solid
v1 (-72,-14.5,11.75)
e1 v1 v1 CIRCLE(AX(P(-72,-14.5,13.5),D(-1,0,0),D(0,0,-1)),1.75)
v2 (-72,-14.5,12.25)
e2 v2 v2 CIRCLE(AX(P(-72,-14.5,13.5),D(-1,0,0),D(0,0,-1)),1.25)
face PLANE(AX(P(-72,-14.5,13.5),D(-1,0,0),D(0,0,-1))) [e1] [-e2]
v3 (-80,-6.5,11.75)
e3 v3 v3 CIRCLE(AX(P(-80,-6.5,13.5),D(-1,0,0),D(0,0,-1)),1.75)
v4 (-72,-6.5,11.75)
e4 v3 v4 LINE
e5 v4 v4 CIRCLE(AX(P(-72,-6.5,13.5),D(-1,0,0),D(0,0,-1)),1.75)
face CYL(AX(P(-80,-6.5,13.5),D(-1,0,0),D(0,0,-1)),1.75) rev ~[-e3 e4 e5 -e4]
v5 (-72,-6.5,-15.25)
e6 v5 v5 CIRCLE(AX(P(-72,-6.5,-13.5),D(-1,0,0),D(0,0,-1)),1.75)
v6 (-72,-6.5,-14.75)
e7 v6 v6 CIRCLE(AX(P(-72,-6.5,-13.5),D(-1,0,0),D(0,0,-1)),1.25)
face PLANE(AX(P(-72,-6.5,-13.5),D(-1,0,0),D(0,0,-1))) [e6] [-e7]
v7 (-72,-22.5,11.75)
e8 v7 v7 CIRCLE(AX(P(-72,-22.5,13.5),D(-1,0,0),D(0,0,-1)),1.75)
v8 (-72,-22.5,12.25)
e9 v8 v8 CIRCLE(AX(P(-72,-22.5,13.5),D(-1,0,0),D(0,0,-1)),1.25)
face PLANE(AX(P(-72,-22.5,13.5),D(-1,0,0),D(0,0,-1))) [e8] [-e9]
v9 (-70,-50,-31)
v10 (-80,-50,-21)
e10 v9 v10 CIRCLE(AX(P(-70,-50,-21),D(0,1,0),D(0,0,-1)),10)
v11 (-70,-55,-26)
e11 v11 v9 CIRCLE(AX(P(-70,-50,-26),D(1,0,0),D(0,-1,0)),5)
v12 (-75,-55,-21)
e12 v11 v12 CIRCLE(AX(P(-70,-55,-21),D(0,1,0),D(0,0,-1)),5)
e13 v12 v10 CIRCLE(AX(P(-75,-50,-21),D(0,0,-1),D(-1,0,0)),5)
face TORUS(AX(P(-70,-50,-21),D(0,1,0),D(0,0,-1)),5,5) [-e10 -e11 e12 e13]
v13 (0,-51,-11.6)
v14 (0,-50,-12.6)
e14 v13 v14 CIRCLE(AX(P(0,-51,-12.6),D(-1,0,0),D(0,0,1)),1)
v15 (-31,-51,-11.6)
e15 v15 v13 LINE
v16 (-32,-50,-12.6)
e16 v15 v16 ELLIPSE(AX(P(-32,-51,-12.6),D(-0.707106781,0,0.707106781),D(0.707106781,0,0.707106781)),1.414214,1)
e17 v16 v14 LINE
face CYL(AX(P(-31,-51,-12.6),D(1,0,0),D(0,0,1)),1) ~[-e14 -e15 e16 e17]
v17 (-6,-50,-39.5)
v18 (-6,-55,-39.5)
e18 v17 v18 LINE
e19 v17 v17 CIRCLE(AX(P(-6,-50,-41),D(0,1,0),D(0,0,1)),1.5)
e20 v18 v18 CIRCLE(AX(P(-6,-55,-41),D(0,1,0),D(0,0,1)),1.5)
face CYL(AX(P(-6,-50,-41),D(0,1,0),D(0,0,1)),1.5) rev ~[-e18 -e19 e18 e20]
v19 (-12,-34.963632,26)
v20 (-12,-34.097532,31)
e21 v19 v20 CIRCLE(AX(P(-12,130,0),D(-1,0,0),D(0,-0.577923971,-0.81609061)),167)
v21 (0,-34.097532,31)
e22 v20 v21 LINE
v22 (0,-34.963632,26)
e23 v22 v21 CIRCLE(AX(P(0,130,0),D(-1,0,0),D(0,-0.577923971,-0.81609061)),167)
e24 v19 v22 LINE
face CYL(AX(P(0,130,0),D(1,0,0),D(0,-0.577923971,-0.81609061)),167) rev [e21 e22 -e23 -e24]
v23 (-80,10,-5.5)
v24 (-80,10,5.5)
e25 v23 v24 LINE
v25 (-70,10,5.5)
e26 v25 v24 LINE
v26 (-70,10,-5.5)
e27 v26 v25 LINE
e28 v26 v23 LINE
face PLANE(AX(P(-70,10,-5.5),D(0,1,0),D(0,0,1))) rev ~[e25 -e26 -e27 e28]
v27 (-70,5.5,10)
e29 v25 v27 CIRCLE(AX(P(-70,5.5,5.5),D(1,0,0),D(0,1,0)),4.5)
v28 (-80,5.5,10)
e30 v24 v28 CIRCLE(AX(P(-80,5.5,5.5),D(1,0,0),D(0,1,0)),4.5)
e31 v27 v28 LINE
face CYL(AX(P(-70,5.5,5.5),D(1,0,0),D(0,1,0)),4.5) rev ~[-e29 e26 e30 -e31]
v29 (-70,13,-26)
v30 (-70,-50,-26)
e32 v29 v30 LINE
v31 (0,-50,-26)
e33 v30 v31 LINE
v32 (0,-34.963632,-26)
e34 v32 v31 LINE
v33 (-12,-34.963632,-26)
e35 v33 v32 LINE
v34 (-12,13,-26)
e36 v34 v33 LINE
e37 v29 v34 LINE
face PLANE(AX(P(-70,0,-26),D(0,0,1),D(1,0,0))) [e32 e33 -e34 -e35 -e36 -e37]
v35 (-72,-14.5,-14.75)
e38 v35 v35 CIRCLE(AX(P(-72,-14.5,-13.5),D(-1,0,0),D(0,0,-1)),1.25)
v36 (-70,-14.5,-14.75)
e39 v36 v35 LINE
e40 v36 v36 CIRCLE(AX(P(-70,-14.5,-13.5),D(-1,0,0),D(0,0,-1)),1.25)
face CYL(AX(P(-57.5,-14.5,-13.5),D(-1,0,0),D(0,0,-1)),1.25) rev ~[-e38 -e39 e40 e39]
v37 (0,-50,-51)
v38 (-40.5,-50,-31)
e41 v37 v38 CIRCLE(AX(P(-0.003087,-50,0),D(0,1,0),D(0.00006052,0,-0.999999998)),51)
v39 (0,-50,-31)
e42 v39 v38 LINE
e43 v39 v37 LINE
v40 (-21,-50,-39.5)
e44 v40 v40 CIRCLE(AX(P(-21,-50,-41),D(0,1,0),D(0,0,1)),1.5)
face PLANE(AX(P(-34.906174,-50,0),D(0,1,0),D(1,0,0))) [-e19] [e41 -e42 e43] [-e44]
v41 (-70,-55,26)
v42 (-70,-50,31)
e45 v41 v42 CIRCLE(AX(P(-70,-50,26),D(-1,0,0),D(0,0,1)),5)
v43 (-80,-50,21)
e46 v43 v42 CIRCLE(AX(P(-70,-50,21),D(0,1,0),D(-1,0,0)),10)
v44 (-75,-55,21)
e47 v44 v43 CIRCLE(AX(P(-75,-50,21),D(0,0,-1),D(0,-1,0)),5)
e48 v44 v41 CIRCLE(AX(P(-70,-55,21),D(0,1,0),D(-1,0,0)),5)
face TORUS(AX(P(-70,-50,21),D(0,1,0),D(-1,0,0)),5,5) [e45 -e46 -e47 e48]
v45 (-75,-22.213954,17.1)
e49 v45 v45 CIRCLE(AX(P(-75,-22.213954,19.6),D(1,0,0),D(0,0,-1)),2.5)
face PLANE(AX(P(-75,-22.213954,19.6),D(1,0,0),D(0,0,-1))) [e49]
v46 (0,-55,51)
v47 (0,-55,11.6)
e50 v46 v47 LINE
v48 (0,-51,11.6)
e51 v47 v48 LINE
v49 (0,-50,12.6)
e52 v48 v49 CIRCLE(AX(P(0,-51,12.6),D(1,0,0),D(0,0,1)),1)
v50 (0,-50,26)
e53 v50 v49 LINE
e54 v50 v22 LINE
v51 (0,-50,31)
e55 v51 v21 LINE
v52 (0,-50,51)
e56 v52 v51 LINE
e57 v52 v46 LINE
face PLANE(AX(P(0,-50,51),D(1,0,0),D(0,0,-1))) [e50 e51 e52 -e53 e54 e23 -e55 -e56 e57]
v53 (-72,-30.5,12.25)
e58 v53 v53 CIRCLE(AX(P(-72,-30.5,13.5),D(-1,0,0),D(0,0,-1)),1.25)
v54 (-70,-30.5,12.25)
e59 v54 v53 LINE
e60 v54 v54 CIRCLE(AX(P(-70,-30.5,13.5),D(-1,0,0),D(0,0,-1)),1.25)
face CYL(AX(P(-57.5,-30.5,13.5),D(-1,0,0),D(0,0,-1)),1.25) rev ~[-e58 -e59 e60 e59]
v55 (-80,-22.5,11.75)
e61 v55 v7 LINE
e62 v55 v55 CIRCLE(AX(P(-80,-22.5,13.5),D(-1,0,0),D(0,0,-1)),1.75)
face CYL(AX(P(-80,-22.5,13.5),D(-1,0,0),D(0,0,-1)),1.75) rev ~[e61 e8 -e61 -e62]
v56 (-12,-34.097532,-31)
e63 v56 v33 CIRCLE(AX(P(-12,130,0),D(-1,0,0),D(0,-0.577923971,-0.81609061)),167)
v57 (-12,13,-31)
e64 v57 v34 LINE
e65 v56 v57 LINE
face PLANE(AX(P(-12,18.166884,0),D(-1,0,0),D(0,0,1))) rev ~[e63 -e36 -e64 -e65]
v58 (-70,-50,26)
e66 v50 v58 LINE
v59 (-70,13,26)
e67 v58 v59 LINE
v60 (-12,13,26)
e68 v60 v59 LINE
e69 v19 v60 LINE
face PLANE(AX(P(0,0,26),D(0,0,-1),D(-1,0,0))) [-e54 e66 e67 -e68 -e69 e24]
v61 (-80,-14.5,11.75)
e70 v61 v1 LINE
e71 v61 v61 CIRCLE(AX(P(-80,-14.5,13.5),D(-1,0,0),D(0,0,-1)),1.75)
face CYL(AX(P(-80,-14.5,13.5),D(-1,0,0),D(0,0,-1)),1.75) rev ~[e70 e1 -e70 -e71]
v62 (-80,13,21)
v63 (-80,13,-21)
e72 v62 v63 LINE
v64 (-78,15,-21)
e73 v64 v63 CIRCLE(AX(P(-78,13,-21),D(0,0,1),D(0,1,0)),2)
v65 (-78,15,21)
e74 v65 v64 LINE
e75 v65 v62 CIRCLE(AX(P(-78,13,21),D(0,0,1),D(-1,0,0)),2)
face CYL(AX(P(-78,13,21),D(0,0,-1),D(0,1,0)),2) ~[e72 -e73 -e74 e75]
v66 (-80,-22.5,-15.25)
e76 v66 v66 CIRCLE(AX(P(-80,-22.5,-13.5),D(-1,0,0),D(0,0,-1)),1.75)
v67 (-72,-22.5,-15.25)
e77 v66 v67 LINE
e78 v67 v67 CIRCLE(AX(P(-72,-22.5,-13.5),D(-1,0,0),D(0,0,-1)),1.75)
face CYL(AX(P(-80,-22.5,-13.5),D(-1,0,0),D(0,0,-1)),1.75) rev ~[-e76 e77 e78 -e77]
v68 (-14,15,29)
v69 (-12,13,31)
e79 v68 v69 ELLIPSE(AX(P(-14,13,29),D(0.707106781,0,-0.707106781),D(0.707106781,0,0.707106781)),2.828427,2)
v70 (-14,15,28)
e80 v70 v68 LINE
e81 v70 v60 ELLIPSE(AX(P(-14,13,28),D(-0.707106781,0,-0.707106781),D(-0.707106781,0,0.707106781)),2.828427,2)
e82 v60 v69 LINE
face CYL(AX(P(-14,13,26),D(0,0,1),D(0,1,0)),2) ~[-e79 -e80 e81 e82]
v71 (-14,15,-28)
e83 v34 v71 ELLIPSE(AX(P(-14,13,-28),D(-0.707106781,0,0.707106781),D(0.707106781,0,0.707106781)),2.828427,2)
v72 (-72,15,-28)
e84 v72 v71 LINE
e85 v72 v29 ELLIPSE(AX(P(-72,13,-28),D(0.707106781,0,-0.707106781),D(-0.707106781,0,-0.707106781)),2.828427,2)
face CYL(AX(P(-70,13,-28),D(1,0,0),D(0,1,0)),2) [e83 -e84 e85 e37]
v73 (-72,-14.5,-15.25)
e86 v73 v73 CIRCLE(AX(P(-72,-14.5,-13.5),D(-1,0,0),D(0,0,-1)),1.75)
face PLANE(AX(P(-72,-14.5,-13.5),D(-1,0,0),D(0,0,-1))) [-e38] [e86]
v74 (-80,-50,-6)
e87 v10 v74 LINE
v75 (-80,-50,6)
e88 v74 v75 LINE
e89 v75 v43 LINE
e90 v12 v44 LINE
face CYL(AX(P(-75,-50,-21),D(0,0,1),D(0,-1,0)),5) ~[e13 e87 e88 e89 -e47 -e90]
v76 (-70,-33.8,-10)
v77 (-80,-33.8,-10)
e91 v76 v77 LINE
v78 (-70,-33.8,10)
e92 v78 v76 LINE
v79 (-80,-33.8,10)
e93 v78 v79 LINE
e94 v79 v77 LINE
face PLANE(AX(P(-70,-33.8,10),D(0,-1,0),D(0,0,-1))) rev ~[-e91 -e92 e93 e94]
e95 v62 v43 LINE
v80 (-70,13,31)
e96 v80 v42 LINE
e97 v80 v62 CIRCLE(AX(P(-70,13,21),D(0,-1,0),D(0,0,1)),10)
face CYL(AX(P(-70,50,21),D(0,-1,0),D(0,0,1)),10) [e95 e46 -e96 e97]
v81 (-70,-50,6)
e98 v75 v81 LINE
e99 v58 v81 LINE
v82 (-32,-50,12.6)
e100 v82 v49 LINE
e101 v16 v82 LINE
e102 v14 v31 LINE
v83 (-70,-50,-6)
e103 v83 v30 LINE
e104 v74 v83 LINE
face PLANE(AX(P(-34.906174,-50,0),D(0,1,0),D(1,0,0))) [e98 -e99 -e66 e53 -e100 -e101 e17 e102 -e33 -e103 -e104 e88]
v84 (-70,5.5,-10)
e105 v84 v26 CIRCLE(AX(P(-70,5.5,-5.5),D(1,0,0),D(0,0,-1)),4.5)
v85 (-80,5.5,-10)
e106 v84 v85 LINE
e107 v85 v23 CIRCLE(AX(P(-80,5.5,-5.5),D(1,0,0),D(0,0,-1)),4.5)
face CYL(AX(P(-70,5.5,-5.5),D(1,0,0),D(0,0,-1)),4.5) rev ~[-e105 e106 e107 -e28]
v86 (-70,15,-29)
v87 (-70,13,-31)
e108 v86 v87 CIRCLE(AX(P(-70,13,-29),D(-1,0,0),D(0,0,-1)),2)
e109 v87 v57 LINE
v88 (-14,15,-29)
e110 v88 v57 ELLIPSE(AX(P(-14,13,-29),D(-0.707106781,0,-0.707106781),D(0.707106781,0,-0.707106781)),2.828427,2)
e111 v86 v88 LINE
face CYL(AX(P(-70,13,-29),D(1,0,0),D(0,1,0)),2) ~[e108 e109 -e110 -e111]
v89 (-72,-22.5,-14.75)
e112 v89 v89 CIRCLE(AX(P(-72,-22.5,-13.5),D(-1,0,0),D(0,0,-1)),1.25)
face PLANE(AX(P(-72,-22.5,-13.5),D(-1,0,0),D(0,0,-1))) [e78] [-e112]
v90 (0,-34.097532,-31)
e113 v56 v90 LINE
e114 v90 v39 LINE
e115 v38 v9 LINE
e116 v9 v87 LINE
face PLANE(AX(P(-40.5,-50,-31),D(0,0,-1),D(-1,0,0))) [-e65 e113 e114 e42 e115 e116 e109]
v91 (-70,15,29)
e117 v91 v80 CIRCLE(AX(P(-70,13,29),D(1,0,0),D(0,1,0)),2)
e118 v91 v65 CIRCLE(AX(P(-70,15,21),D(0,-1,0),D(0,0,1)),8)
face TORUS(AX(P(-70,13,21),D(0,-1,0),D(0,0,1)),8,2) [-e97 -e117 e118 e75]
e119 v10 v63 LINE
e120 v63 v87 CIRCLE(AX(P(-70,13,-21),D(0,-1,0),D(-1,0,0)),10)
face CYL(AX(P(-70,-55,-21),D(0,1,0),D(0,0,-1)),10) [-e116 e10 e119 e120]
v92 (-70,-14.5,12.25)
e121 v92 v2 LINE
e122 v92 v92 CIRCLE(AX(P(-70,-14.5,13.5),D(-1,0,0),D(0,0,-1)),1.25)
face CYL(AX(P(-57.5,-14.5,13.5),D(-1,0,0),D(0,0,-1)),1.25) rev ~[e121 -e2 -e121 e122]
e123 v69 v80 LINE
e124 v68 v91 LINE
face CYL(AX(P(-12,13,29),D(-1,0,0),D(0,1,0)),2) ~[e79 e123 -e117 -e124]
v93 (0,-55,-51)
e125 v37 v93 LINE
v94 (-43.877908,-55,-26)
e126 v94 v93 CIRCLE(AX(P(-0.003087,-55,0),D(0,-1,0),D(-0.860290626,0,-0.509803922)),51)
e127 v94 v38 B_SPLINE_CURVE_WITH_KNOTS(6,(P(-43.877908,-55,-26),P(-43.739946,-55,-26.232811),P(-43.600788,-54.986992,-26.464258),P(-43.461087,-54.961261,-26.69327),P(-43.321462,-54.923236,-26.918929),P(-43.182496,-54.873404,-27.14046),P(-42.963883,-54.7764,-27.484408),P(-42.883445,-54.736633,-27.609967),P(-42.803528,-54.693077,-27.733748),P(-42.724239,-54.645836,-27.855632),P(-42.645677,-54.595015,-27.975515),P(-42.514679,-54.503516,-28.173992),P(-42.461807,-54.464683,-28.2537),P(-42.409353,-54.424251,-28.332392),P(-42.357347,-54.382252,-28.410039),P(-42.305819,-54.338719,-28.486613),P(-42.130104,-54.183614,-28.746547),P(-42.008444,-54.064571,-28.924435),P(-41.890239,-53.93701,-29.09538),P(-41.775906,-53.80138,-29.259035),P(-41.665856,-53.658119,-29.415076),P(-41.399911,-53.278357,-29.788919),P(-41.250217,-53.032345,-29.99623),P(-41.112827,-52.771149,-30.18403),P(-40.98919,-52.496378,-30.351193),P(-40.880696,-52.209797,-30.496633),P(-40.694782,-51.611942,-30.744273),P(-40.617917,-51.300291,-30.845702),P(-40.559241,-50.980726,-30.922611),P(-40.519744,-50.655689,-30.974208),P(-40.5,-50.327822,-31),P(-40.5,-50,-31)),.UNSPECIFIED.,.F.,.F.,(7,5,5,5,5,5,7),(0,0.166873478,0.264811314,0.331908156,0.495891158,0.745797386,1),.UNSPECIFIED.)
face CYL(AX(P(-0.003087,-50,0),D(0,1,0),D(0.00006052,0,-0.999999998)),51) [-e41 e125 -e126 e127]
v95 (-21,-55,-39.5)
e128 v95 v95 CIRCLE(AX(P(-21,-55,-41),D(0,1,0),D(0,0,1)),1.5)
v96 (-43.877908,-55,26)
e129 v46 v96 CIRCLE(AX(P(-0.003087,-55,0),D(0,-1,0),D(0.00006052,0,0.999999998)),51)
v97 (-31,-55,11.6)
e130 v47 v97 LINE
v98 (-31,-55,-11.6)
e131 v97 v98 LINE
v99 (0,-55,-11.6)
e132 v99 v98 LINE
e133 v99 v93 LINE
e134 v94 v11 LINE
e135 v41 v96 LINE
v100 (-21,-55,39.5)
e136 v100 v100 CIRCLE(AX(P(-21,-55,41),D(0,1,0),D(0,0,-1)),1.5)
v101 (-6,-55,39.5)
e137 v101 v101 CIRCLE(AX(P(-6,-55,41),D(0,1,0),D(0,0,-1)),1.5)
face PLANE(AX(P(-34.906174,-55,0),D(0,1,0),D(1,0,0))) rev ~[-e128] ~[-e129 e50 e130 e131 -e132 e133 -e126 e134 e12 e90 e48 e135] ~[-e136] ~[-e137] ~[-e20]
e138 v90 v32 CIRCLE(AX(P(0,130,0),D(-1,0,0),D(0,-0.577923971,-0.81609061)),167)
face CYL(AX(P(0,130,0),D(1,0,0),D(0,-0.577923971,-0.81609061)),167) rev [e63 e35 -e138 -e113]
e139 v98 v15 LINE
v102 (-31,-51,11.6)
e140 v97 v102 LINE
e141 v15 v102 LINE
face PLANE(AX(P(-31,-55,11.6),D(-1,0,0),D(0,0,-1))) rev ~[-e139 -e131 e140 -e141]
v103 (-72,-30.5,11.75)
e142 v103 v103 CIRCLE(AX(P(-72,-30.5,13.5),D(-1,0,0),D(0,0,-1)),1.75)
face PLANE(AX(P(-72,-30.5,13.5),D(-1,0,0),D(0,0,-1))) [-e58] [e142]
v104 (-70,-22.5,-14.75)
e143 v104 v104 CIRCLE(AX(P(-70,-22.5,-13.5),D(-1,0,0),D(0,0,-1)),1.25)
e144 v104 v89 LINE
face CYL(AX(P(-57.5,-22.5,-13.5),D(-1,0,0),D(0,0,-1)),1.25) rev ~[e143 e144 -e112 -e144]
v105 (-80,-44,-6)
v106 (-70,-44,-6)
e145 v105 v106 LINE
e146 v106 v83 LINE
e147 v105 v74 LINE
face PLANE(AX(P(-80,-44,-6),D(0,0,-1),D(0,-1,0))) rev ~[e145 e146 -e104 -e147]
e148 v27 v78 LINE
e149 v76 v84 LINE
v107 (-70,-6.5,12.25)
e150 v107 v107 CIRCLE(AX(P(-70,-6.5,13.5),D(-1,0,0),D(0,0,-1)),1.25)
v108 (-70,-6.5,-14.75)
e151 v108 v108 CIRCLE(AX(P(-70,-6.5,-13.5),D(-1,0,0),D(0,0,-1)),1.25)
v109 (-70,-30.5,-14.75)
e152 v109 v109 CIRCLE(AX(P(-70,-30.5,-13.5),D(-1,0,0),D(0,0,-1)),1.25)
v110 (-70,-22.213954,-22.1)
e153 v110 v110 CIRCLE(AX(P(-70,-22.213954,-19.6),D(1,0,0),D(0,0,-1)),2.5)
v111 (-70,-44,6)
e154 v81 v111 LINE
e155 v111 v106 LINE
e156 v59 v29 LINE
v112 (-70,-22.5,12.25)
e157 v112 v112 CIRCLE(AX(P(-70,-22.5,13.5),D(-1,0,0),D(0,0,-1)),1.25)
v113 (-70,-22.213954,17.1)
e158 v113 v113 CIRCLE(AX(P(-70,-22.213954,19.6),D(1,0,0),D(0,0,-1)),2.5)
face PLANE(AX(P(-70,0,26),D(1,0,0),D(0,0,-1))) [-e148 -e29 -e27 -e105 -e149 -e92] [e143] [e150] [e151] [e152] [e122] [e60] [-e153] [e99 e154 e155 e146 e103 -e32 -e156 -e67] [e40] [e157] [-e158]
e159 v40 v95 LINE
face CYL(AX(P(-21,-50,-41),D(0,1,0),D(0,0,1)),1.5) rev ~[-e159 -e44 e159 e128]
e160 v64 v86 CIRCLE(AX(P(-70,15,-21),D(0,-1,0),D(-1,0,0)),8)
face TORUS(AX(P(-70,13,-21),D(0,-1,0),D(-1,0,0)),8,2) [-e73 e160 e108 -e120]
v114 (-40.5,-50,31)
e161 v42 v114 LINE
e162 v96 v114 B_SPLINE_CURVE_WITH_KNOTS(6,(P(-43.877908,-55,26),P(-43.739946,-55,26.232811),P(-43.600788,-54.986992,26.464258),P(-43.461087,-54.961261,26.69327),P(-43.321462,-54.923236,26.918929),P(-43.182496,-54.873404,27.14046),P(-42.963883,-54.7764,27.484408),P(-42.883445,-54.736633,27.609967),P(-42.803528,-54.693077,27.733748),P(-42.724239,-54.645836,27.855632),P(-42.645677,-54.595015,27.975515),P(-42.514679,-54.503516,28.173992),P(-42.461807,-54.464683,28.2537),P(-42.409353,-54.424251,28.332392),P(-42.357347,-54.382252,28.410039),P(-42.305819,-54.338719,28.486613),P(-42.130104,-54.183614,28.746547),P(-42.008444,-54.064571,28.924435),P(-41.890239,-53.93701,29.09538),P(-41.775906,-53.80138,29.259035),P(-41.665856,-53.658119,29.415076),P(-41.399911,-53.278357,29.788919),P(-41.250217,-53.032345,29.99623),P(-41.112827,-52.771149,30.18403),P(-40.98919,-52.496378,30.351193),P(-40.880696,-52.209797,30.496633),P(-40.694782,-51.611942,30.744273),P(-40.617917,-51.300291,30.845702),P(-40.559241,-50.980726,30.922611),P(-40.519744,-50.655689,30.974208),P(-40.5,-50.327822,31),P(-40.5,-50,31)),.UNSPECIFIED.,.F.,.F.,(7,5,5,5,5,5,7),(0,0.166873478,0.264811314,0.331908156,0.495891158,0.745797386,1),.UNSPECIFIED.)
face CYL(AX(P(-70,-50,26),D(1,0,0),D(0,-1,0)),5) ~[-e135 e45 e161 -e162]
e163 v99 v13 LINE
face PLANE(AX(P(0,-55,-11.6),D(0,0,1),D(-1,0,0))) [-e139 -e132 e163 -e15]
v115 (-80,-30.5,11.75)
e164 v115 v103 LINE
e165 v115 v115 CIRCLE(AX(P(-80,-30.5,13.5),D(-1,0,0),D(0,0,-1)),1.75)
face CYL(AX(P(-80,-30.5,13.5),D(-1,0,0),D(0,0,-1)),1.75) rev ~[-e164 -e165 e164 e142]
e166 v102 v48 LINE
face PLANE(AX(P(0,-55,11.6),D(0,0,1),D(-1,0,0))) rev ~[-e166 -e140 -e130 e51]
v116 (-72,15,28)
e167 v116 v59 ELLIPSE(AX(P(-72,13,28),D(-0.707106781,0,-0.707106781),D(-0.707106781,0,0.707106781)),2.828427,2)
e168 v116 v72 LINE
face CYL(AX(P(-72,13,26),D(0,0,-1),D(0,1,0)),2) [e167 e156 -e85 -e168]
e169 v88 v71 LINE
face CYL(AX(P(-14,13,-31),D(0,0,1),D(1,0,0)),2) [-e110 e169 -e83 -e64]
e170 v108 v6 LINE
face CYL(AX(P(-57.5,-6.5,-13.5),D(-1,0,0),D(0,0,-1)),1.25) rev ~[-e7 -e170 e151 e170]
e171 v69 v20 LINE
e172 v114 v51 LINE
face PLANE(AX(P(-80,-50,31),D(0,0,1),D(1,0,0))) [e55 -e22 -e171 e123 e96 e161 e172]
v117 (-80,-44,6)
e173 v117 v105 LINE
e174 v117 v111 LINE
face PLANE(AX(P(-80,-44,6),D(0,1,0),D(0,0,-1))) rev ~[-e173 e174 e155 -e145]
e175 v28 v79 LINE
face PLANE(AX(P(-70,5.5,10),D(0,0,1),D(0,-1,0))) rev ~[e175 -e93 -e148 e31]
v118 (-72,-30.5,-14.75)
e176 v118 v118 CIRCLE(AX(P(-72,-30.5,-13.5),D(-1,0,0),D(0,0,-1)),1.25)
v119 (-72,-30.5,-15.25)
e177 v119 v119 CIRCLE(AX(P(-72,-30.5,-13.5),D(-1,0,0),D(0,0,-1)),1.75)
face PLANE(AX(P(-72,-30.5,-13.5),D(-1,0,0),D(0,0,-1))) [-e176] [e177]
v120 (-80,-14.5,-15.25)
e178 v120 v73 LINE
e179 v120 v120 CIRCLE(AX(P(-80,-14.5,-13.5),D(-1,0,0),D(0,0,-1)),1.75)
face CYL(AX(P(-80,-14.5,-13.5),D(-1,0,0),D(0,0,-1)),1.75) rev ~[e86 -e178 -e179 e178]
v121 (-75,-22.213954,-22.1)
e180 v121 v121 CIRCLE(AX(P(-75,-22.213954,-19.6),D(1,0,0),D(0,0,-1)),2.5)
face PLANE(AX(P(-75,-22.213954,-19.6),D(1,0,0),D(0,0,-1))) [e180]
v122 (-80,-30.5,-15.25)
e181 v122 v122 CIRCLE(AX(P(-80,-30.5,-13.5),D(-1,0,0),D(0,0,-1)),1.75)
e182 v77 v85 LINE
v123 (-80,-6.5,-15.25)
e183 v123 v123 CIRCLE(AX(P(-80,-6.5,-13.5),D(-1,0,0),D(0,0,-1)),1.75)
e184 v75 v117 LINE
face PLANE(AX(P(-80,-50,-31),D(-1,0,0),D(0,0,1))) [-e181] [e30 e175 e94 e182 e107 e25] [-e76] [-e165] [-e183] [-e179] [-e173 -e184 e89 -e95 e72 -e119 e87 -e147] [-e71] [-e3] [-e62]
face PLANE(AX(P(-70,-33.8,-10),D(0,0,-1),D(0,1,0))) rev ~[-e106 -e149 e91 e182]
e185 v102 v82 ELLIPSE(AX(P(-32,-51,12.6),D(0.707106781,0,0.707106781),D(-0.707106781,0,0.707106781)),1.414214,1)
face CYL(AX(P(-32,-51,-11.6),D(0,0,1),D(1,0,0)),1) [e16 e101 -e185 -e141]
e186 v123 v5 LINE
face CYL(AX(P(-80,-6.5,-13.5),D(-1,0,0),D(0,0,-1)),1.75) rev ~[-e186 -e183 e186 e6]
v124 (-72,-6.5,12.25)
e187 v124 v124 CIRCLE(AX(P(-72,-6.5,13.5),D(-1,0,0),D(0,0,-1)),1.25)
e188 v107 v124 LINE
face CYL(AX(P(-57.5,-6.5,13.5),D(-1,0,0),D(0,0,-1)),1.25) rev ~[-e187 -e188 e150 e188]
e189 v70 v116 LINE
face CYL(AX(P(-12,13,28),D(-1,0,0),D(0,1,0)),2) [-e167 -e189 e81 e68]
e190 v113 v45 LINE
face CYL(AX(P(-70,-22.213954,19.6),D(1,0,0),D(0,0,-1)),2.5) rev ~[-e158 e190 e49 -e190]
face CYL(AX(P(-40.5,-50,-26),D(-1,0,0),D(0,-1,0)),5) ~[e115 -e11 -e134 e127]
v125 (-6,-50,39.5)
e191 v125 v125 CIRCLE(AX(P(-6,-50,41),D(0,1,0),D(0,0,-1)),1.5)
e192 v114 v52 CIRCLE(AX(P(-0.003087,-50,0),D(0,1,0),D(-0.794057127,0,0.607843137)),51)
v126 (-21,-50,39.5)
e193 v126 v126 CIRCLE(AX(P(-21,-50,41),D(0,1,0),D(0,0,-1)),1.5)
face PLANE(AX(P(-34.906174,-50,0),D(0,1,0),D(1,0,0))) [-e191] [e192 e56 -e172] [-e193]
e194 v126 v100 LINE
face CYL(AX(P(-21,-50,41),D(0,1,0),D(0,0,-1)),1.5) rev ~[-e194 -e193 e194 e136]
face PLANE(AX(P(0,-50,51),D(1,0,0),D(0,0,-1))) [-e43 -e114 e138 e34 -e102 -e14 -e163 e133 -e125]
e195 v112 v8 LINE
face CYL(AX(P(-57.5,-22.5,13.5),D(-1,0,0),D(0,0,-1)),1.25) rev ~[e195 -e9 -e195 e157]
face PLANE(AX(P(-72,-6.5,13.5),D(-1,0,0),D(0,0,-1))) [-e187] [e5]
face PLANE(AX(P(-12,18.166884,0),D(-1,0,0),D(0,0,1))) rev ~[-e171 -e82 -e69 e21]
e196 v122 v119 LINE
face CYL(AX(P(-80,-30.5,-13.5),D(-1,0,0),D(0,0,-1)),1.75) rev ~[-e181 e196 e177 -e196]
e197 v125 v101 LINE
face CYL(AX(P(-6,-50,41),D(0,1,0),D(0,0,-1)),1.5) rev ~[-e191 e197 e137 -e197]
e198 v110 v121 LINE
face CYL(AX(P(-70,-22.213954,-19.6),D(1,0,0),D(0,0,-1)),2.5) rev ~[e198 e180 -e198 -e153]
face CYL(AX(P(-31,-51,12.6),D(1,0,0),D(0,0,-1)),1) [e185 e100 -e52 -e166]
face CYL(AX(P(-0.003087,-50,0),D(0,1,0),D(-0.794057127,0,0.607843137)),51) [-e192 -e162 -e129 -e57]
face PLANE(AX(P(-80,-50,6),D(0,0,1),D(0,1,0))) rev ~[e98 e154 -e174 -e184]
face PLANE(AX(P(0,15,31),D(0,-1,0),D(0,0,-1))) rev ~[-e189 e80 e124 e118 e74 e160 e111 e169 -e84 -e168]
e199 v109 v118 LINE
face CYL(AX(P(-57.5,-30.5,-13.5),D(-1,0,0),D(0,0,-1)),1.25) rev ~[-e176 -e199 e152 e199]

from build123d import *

# Parameters (mm, degrees)
BOSS_EXTRU_5_DEPTH       = 50
ESQUISSE5_R              = 2.15
ESQUISSE5_W              = 20
ESQUISSE5_H              = 31.8
ENL_V_MAT_EXTRU_1_DEPTH  = 10
BOSS_EXTRU_6_DEPTH       = 5
ESQUISSE11_R             = 2.5
ENL_V_MAT_EXTRU_9_DEPTH  = 5
CONG_1_R                 = 10
ENL_V_MAT_EXTRU_12_DEPTH = 12
ESQUISSE12_W             = 31
ESQUISSE12_H             = 23.2
ENL_V_MAT_EXTRU_13_DEPTH = 10
CONG_2_R                 = 1
ESQUISSE9_W              = 62
ESQUISSE9_H              = 34.999999956
ENL_V_MAT_EXTRU_14_DEPTH = 110.66312051
CONG_3_R                 = 5
CONG_4_R                 = 2
ESQUISSE13_R             = 1.5
ENL_V_MAT_EXTRU_15_DEPTH = 116.004347813
TROU_TARAUD_M31_D        = 2.5
TROU_TARAUD_M31_DEPTH    = 12.5
TROU_TARAUD_M31_TIP      = 0.751075774
ESQUISSE3D2_R            = 1.75
ENL_V_MAT_EXTRU_16_DEPTH = 8
ENL_V_MAT_EXTRU_17_DEPTH = 10


with BuildPart() as part:
    # Esquisse1 → Boss.-Extru.5 (new, symmetric)
    with BuildSketch(Plane(origin=(0, 0, 0), x_dir=(1, 0, 0), z_dir=(0, 1, 0))):
        Polygon((0, 31), (-40.496913463, 31), (-80, 31), (-80, -31), (-40.496913463, -31), (0, -31), (0, -26), (-40.496913463, -26), (-70, -26), (-70, 26), (-40.496913463, 26), (0, 26), align=None)
    extrude(amount=BOSS_EXTRU_5_DEPTH, both=True)

    # Esquisse5 → Enlèv. mat.-Extru.1 (cut)
    with BuildSketch(Plane(origin=(-70, 0, 0), x_dir=(0, 0, -1), z_dir=(1, 0, 0))):
        with BuildLine():
            Line((-10, -2), (10, -2))
            Line((10, -2), (10, 5.500000044))
            ThreePointArc((10, 5.500000044), (8.681980515, 8.68198056), (5.5, 10.000000044))
            Line((5.5, 10.000000044), (-5.499999911, 10.000000044))
            ThreePointArc((-5.499999911, 10.000000044), (-8.681980489, 8.681980534), (-10, 5.499999956))
            Line((-10, 5.499999956), (-10, -2))
        make_face()
        Circle(ESQUISSE5_R, mode=Mode.SUBTRACT)
        Circle(ESQUISSE5_R)
        with Locations((0, -17.9)):
            Rectangle(ESQUISSE5_W, ESQUISSE5_H)
        with BuildLine():
            ThreePointArc((2.15, 0), (-1.209582286, 1.77747312), (-0.788986692, -2))
            Line((-0.788986692, -2), (0.788986692, -2))
            ThreePointArc((0.788986692, -2), (1.77747312, -1.209582286), (2.15, 0))
        make_face()
        with BuildLine():
            Line((0.788986692, -2), (-0.788986692, -2))
            ThreePointArc((-0.788986692, -2), (0, -2.15), (0.788986692, -2))
        make_face()
    extrude(amount=-ENL_V_MAT_EXTRU_1_DEPTH, mode=Mode.SUBTRACT)

    # Esquisse8 → Boss.-Extru.6 (add)
    with BuildSketch(Plane(origin=(0, -50, 0), x_dir=(1, 0, 0), z_dir=(0, 1, 0))):
        with BuildLine():
            Line((0, -50.999999907), (0, 50.999999907))
            ThreePointArc((0, 50.999999907), (-22.584882388, 45.728136811), (-40.5, 31))
            Line((-40.5, 31), (-80, 31))
            Line((-80, 31), (-80, -31))
            Line((-80, -31), (-40.5, -31))
            ThreePointArc((-40.5, -31), (-22.584882388, -45.728136811), (0, -50.999999907))
        make_face()
    extrude(amount=-BOSS_EXTRU_6_DEPTH)

    # Esquisse11 → Enlèv. mat.-Extru.9 (cut)
    with BuildSketch(Plane(origin=(-70, 0, 0), x_dir=(0, 0, -1), z_dir=(1, 0, 0))):
        with Locations((-19.6, -22.213953616)):
            Circle(ESQUISSE11_R)
        with Locations((19.6, -22.213953616)):
            Circle(ESQUISSE11_R)
    extrude(amount=-ENL_V_MAT_EXTRU_9_DEPTH, mode=Mode.SUBTRACT)

    # Congé1
    cong_1_edges = [part.edges().sort_by_distance(p)[0] for p in [
        (-80, -2.5, 31),
        (-80, -2.5, -31),
    ]]
    fillet(cong_1_edges, radius=CONG_1_R)

    # Esquisse10 → Enlèv. mat.-Extru.12 (cut)
    with BuildSketch(Plane(origin=(0, 0, 0), x_dir=(0, 0, -1), z_dir=(1, 0, 0))):
        with BuildLine():
            Line((85.263165158, 65.69401727), (136.28713183, 33.486696785))
            ThreePointArc((136.28713183, 33.486696785), (0, -37), (-136.28713183, 33.486696785))
            Line((-136.28713183, 33.486696785), (-85.263165158, 65.69401727))
            ThreePointArc((-85.263165158, 65.69401727), (0, 23.205492896), (85.263165158, 65.69401727))
        make_face()
    extrude(amount=-ENL_V_MAT_EXTRU_12_DEPTH, mode=Mode.SUBTRACT)

    # Esquisse12 → Enlèv. mat.-Extru.13 (cut)
    with BuildSketch(Plane(origin=(0, -55, 0), x_dir=(-1, 0, 0), z_dir=(0, -1, 0))):
        with Locations((15.5, 0)):
            Rectangle(ESQUISSE12_W, ESQUISSE12_H)
    extrude(amount=-ENL_V_MAT_EXTRU_13_DEPTH, mode=Mode.SUBTRACT)

    # Congé2
    cong_2_edges = [part.edges().sort_by_distance(p)[0] for p in [
        (-15.5, -50, -11.6),
        (-31, -50, 0),
        (-15.5, -50, 11.6),
    ]]
    fillet(cong_2_edges, radius=CONG_2_R)

    # Esquisse9 → Enlèv. mat.-Extru.14 (cut, through all)
    with BuildSketch(Plane(origin=(0, 0, 0), x_dir=(0, 0, -1), z_dir=(1, 0, 0))):
        with Locations((0, 32.500000022)):
            Rectangle(ESQUISSE9_W, ESQUISSE9_H)
    extrude(amount=-ENL_V_MAT_EXTRU_14_DEPTH, mode=Mode.SUBTRACT)

    # Congé3
    cong_3_edges = [part.edges().sort_by_distance(p)[0] for p in [
        (-55.25, -55, 31),
        (-77.071067812, -55, 28.071067812),
        (-80, -55, 0),
        (-77.071067812, -55, -28.071067812),
        (-55.25, -55, -31),
    ]]
    fillet(cong_3_edges, radius=CONG_3_R)

    # Congé4
    cong_4_edges = [part.edges().sort_by_distance(p)[0] for p in [
        (-12, 15.000000044, 28.5),
        (-77.071067812, 15.000000044, 28.071067812),
        (-77.071067812, 15.000000044, -28.071067812),
        (-12, 15.000000044, -28.5),
        (-41, 15.000000044, 26),
        (-70, 15.000000044, 0),
        (-41, 15.000000044, 31),
        (-80, 15.000000044, 0),
        (-41, 15.000000044, -31),
        (-41, 15.000000044, -26),
    ]]
    fillet(cong_4_edges, radius=CONG_4_R)

    # Esquisse13 → Enlèv. mat.-Extru.15 (cut, through all)
    with BuildSketch(Plane(origin=(0, -50, 0), x_dir=(1, 0, 0), z_dir=(0, 1, 0))):
        with Locations(Location((-21, 40.999999953, 0), (0, 0, 270))):
            Circle(ESQUISSE13_R)
        with Locations(Location((-6, 40.999999953, 0), (0, 0, 270))):
            Circle(ESQUISSE13_R)
        with Locations(Location((-6, -40.999999953, 0), (0, 0, 90))):
            Circle(ESQUISSE13_R)
        with Locations(Location((-21, -40.999999953, 0), (0, 0, 90))):
            Circle(ESQUISSE13_R)
    extrude(amount=-ENL_V_MAT_EXTRU_15_DEPTH, mode=Mode.SUBTRACT)

    # Trou taraudé M31
    with Locations(Plane(origin=(-70, -6.5, 13.5), x_dir=(0, 0, 1), z_dir=(1, 0, 0))):
        with Locations((0, 0), (-27, 0), (-27, 8), (0, 8), (0, 16), (-27, 16), (-27, 24), (0, 24)):
            Hole(TROU_TARAUD_M31_D / 2, depth=TROU_TARAUD_M31_DEPTH)
            with Locations((0, 0, -(TROU_TARAUD_M31_DEPTH + TROU_TARAUD_M31_TIP / 2))):  # 118° drill point
                Cone(0, TROU_TARAUD_M31_D / 2, TROU_TARAUD_M31_TIP, mode=Mode.SUBTRACT)

    # Esquisse3D2 → Enlèv. mat.-Extru.16 (cut)
    with BuildSketch(Plane(origin=(-80, -6.5, 13.5), x_dir=(0, -0.6643638388299197, -0.7474093186836598), z_dir=(-1, 0, 0))):
        with Locations(Location((0, 0, 0), (0, 0, 318.366460663))):
            Circle(ESQUISSE3D2_R)
        with Locations(Location((5.314910711, 5.979274549, 0), (0, 0, 318.366460663))):
            Circle(ESQUISSE3D2_R)
        with Locations(Location((10.629821421, 11.958549099, 0), (0, 0, 318.366460663))):
            Circle(ESQUISSE3D2_R)
        with Locations(Location((20.180051604, -17.937823648, 0), (0, 0, 318.366460663))):
            Circle(ESQUISSE3D2_R)
        with Locations(Location((25.494962315, -11.958549099, 0), (0, 0, 318.366460663))):
            Circle(ESQUISSE3D2_R)
        with Locations(Location((30.809873026, -5.979274549, 0), (0, 0, 318.366460663))):
            Circle(ESQUISSE3D2_R)
        with Locations(Location((36.124783736, 0, 0), (0, 0, 318.366460663))):
            Circle(ESQUISSE3D2_R)
        with Locations(Location((15.944732132, 17.937823648, 0), (0, 0, 318.366460663))):
            Circle(ESQUISSE3D2_R)
    extrude(amount=-ENL_V_MAT_EXTRU_16_DEPTH, mode=Mode.SUBTRACT)

    # Esquisse3D3 → Enlèv. mat.-Extru.17 (cut)
    with BuildSketch(Plane(origin=(-80, -44, 6), x_dir=(0, -0.4472135954999578, -0.894427190999916), z_dir=(1, 0, 0))):
        Polygon((0, 0), (10.733126292, 5.366563146), (13.416407865, 0), (2.683281573, -5.366563146), align=None)
    extrude(amount=ENL_V_MAT_EXTRU_17_DEPTH, mode=Mode.SUBTRACT)


solid = part.part
